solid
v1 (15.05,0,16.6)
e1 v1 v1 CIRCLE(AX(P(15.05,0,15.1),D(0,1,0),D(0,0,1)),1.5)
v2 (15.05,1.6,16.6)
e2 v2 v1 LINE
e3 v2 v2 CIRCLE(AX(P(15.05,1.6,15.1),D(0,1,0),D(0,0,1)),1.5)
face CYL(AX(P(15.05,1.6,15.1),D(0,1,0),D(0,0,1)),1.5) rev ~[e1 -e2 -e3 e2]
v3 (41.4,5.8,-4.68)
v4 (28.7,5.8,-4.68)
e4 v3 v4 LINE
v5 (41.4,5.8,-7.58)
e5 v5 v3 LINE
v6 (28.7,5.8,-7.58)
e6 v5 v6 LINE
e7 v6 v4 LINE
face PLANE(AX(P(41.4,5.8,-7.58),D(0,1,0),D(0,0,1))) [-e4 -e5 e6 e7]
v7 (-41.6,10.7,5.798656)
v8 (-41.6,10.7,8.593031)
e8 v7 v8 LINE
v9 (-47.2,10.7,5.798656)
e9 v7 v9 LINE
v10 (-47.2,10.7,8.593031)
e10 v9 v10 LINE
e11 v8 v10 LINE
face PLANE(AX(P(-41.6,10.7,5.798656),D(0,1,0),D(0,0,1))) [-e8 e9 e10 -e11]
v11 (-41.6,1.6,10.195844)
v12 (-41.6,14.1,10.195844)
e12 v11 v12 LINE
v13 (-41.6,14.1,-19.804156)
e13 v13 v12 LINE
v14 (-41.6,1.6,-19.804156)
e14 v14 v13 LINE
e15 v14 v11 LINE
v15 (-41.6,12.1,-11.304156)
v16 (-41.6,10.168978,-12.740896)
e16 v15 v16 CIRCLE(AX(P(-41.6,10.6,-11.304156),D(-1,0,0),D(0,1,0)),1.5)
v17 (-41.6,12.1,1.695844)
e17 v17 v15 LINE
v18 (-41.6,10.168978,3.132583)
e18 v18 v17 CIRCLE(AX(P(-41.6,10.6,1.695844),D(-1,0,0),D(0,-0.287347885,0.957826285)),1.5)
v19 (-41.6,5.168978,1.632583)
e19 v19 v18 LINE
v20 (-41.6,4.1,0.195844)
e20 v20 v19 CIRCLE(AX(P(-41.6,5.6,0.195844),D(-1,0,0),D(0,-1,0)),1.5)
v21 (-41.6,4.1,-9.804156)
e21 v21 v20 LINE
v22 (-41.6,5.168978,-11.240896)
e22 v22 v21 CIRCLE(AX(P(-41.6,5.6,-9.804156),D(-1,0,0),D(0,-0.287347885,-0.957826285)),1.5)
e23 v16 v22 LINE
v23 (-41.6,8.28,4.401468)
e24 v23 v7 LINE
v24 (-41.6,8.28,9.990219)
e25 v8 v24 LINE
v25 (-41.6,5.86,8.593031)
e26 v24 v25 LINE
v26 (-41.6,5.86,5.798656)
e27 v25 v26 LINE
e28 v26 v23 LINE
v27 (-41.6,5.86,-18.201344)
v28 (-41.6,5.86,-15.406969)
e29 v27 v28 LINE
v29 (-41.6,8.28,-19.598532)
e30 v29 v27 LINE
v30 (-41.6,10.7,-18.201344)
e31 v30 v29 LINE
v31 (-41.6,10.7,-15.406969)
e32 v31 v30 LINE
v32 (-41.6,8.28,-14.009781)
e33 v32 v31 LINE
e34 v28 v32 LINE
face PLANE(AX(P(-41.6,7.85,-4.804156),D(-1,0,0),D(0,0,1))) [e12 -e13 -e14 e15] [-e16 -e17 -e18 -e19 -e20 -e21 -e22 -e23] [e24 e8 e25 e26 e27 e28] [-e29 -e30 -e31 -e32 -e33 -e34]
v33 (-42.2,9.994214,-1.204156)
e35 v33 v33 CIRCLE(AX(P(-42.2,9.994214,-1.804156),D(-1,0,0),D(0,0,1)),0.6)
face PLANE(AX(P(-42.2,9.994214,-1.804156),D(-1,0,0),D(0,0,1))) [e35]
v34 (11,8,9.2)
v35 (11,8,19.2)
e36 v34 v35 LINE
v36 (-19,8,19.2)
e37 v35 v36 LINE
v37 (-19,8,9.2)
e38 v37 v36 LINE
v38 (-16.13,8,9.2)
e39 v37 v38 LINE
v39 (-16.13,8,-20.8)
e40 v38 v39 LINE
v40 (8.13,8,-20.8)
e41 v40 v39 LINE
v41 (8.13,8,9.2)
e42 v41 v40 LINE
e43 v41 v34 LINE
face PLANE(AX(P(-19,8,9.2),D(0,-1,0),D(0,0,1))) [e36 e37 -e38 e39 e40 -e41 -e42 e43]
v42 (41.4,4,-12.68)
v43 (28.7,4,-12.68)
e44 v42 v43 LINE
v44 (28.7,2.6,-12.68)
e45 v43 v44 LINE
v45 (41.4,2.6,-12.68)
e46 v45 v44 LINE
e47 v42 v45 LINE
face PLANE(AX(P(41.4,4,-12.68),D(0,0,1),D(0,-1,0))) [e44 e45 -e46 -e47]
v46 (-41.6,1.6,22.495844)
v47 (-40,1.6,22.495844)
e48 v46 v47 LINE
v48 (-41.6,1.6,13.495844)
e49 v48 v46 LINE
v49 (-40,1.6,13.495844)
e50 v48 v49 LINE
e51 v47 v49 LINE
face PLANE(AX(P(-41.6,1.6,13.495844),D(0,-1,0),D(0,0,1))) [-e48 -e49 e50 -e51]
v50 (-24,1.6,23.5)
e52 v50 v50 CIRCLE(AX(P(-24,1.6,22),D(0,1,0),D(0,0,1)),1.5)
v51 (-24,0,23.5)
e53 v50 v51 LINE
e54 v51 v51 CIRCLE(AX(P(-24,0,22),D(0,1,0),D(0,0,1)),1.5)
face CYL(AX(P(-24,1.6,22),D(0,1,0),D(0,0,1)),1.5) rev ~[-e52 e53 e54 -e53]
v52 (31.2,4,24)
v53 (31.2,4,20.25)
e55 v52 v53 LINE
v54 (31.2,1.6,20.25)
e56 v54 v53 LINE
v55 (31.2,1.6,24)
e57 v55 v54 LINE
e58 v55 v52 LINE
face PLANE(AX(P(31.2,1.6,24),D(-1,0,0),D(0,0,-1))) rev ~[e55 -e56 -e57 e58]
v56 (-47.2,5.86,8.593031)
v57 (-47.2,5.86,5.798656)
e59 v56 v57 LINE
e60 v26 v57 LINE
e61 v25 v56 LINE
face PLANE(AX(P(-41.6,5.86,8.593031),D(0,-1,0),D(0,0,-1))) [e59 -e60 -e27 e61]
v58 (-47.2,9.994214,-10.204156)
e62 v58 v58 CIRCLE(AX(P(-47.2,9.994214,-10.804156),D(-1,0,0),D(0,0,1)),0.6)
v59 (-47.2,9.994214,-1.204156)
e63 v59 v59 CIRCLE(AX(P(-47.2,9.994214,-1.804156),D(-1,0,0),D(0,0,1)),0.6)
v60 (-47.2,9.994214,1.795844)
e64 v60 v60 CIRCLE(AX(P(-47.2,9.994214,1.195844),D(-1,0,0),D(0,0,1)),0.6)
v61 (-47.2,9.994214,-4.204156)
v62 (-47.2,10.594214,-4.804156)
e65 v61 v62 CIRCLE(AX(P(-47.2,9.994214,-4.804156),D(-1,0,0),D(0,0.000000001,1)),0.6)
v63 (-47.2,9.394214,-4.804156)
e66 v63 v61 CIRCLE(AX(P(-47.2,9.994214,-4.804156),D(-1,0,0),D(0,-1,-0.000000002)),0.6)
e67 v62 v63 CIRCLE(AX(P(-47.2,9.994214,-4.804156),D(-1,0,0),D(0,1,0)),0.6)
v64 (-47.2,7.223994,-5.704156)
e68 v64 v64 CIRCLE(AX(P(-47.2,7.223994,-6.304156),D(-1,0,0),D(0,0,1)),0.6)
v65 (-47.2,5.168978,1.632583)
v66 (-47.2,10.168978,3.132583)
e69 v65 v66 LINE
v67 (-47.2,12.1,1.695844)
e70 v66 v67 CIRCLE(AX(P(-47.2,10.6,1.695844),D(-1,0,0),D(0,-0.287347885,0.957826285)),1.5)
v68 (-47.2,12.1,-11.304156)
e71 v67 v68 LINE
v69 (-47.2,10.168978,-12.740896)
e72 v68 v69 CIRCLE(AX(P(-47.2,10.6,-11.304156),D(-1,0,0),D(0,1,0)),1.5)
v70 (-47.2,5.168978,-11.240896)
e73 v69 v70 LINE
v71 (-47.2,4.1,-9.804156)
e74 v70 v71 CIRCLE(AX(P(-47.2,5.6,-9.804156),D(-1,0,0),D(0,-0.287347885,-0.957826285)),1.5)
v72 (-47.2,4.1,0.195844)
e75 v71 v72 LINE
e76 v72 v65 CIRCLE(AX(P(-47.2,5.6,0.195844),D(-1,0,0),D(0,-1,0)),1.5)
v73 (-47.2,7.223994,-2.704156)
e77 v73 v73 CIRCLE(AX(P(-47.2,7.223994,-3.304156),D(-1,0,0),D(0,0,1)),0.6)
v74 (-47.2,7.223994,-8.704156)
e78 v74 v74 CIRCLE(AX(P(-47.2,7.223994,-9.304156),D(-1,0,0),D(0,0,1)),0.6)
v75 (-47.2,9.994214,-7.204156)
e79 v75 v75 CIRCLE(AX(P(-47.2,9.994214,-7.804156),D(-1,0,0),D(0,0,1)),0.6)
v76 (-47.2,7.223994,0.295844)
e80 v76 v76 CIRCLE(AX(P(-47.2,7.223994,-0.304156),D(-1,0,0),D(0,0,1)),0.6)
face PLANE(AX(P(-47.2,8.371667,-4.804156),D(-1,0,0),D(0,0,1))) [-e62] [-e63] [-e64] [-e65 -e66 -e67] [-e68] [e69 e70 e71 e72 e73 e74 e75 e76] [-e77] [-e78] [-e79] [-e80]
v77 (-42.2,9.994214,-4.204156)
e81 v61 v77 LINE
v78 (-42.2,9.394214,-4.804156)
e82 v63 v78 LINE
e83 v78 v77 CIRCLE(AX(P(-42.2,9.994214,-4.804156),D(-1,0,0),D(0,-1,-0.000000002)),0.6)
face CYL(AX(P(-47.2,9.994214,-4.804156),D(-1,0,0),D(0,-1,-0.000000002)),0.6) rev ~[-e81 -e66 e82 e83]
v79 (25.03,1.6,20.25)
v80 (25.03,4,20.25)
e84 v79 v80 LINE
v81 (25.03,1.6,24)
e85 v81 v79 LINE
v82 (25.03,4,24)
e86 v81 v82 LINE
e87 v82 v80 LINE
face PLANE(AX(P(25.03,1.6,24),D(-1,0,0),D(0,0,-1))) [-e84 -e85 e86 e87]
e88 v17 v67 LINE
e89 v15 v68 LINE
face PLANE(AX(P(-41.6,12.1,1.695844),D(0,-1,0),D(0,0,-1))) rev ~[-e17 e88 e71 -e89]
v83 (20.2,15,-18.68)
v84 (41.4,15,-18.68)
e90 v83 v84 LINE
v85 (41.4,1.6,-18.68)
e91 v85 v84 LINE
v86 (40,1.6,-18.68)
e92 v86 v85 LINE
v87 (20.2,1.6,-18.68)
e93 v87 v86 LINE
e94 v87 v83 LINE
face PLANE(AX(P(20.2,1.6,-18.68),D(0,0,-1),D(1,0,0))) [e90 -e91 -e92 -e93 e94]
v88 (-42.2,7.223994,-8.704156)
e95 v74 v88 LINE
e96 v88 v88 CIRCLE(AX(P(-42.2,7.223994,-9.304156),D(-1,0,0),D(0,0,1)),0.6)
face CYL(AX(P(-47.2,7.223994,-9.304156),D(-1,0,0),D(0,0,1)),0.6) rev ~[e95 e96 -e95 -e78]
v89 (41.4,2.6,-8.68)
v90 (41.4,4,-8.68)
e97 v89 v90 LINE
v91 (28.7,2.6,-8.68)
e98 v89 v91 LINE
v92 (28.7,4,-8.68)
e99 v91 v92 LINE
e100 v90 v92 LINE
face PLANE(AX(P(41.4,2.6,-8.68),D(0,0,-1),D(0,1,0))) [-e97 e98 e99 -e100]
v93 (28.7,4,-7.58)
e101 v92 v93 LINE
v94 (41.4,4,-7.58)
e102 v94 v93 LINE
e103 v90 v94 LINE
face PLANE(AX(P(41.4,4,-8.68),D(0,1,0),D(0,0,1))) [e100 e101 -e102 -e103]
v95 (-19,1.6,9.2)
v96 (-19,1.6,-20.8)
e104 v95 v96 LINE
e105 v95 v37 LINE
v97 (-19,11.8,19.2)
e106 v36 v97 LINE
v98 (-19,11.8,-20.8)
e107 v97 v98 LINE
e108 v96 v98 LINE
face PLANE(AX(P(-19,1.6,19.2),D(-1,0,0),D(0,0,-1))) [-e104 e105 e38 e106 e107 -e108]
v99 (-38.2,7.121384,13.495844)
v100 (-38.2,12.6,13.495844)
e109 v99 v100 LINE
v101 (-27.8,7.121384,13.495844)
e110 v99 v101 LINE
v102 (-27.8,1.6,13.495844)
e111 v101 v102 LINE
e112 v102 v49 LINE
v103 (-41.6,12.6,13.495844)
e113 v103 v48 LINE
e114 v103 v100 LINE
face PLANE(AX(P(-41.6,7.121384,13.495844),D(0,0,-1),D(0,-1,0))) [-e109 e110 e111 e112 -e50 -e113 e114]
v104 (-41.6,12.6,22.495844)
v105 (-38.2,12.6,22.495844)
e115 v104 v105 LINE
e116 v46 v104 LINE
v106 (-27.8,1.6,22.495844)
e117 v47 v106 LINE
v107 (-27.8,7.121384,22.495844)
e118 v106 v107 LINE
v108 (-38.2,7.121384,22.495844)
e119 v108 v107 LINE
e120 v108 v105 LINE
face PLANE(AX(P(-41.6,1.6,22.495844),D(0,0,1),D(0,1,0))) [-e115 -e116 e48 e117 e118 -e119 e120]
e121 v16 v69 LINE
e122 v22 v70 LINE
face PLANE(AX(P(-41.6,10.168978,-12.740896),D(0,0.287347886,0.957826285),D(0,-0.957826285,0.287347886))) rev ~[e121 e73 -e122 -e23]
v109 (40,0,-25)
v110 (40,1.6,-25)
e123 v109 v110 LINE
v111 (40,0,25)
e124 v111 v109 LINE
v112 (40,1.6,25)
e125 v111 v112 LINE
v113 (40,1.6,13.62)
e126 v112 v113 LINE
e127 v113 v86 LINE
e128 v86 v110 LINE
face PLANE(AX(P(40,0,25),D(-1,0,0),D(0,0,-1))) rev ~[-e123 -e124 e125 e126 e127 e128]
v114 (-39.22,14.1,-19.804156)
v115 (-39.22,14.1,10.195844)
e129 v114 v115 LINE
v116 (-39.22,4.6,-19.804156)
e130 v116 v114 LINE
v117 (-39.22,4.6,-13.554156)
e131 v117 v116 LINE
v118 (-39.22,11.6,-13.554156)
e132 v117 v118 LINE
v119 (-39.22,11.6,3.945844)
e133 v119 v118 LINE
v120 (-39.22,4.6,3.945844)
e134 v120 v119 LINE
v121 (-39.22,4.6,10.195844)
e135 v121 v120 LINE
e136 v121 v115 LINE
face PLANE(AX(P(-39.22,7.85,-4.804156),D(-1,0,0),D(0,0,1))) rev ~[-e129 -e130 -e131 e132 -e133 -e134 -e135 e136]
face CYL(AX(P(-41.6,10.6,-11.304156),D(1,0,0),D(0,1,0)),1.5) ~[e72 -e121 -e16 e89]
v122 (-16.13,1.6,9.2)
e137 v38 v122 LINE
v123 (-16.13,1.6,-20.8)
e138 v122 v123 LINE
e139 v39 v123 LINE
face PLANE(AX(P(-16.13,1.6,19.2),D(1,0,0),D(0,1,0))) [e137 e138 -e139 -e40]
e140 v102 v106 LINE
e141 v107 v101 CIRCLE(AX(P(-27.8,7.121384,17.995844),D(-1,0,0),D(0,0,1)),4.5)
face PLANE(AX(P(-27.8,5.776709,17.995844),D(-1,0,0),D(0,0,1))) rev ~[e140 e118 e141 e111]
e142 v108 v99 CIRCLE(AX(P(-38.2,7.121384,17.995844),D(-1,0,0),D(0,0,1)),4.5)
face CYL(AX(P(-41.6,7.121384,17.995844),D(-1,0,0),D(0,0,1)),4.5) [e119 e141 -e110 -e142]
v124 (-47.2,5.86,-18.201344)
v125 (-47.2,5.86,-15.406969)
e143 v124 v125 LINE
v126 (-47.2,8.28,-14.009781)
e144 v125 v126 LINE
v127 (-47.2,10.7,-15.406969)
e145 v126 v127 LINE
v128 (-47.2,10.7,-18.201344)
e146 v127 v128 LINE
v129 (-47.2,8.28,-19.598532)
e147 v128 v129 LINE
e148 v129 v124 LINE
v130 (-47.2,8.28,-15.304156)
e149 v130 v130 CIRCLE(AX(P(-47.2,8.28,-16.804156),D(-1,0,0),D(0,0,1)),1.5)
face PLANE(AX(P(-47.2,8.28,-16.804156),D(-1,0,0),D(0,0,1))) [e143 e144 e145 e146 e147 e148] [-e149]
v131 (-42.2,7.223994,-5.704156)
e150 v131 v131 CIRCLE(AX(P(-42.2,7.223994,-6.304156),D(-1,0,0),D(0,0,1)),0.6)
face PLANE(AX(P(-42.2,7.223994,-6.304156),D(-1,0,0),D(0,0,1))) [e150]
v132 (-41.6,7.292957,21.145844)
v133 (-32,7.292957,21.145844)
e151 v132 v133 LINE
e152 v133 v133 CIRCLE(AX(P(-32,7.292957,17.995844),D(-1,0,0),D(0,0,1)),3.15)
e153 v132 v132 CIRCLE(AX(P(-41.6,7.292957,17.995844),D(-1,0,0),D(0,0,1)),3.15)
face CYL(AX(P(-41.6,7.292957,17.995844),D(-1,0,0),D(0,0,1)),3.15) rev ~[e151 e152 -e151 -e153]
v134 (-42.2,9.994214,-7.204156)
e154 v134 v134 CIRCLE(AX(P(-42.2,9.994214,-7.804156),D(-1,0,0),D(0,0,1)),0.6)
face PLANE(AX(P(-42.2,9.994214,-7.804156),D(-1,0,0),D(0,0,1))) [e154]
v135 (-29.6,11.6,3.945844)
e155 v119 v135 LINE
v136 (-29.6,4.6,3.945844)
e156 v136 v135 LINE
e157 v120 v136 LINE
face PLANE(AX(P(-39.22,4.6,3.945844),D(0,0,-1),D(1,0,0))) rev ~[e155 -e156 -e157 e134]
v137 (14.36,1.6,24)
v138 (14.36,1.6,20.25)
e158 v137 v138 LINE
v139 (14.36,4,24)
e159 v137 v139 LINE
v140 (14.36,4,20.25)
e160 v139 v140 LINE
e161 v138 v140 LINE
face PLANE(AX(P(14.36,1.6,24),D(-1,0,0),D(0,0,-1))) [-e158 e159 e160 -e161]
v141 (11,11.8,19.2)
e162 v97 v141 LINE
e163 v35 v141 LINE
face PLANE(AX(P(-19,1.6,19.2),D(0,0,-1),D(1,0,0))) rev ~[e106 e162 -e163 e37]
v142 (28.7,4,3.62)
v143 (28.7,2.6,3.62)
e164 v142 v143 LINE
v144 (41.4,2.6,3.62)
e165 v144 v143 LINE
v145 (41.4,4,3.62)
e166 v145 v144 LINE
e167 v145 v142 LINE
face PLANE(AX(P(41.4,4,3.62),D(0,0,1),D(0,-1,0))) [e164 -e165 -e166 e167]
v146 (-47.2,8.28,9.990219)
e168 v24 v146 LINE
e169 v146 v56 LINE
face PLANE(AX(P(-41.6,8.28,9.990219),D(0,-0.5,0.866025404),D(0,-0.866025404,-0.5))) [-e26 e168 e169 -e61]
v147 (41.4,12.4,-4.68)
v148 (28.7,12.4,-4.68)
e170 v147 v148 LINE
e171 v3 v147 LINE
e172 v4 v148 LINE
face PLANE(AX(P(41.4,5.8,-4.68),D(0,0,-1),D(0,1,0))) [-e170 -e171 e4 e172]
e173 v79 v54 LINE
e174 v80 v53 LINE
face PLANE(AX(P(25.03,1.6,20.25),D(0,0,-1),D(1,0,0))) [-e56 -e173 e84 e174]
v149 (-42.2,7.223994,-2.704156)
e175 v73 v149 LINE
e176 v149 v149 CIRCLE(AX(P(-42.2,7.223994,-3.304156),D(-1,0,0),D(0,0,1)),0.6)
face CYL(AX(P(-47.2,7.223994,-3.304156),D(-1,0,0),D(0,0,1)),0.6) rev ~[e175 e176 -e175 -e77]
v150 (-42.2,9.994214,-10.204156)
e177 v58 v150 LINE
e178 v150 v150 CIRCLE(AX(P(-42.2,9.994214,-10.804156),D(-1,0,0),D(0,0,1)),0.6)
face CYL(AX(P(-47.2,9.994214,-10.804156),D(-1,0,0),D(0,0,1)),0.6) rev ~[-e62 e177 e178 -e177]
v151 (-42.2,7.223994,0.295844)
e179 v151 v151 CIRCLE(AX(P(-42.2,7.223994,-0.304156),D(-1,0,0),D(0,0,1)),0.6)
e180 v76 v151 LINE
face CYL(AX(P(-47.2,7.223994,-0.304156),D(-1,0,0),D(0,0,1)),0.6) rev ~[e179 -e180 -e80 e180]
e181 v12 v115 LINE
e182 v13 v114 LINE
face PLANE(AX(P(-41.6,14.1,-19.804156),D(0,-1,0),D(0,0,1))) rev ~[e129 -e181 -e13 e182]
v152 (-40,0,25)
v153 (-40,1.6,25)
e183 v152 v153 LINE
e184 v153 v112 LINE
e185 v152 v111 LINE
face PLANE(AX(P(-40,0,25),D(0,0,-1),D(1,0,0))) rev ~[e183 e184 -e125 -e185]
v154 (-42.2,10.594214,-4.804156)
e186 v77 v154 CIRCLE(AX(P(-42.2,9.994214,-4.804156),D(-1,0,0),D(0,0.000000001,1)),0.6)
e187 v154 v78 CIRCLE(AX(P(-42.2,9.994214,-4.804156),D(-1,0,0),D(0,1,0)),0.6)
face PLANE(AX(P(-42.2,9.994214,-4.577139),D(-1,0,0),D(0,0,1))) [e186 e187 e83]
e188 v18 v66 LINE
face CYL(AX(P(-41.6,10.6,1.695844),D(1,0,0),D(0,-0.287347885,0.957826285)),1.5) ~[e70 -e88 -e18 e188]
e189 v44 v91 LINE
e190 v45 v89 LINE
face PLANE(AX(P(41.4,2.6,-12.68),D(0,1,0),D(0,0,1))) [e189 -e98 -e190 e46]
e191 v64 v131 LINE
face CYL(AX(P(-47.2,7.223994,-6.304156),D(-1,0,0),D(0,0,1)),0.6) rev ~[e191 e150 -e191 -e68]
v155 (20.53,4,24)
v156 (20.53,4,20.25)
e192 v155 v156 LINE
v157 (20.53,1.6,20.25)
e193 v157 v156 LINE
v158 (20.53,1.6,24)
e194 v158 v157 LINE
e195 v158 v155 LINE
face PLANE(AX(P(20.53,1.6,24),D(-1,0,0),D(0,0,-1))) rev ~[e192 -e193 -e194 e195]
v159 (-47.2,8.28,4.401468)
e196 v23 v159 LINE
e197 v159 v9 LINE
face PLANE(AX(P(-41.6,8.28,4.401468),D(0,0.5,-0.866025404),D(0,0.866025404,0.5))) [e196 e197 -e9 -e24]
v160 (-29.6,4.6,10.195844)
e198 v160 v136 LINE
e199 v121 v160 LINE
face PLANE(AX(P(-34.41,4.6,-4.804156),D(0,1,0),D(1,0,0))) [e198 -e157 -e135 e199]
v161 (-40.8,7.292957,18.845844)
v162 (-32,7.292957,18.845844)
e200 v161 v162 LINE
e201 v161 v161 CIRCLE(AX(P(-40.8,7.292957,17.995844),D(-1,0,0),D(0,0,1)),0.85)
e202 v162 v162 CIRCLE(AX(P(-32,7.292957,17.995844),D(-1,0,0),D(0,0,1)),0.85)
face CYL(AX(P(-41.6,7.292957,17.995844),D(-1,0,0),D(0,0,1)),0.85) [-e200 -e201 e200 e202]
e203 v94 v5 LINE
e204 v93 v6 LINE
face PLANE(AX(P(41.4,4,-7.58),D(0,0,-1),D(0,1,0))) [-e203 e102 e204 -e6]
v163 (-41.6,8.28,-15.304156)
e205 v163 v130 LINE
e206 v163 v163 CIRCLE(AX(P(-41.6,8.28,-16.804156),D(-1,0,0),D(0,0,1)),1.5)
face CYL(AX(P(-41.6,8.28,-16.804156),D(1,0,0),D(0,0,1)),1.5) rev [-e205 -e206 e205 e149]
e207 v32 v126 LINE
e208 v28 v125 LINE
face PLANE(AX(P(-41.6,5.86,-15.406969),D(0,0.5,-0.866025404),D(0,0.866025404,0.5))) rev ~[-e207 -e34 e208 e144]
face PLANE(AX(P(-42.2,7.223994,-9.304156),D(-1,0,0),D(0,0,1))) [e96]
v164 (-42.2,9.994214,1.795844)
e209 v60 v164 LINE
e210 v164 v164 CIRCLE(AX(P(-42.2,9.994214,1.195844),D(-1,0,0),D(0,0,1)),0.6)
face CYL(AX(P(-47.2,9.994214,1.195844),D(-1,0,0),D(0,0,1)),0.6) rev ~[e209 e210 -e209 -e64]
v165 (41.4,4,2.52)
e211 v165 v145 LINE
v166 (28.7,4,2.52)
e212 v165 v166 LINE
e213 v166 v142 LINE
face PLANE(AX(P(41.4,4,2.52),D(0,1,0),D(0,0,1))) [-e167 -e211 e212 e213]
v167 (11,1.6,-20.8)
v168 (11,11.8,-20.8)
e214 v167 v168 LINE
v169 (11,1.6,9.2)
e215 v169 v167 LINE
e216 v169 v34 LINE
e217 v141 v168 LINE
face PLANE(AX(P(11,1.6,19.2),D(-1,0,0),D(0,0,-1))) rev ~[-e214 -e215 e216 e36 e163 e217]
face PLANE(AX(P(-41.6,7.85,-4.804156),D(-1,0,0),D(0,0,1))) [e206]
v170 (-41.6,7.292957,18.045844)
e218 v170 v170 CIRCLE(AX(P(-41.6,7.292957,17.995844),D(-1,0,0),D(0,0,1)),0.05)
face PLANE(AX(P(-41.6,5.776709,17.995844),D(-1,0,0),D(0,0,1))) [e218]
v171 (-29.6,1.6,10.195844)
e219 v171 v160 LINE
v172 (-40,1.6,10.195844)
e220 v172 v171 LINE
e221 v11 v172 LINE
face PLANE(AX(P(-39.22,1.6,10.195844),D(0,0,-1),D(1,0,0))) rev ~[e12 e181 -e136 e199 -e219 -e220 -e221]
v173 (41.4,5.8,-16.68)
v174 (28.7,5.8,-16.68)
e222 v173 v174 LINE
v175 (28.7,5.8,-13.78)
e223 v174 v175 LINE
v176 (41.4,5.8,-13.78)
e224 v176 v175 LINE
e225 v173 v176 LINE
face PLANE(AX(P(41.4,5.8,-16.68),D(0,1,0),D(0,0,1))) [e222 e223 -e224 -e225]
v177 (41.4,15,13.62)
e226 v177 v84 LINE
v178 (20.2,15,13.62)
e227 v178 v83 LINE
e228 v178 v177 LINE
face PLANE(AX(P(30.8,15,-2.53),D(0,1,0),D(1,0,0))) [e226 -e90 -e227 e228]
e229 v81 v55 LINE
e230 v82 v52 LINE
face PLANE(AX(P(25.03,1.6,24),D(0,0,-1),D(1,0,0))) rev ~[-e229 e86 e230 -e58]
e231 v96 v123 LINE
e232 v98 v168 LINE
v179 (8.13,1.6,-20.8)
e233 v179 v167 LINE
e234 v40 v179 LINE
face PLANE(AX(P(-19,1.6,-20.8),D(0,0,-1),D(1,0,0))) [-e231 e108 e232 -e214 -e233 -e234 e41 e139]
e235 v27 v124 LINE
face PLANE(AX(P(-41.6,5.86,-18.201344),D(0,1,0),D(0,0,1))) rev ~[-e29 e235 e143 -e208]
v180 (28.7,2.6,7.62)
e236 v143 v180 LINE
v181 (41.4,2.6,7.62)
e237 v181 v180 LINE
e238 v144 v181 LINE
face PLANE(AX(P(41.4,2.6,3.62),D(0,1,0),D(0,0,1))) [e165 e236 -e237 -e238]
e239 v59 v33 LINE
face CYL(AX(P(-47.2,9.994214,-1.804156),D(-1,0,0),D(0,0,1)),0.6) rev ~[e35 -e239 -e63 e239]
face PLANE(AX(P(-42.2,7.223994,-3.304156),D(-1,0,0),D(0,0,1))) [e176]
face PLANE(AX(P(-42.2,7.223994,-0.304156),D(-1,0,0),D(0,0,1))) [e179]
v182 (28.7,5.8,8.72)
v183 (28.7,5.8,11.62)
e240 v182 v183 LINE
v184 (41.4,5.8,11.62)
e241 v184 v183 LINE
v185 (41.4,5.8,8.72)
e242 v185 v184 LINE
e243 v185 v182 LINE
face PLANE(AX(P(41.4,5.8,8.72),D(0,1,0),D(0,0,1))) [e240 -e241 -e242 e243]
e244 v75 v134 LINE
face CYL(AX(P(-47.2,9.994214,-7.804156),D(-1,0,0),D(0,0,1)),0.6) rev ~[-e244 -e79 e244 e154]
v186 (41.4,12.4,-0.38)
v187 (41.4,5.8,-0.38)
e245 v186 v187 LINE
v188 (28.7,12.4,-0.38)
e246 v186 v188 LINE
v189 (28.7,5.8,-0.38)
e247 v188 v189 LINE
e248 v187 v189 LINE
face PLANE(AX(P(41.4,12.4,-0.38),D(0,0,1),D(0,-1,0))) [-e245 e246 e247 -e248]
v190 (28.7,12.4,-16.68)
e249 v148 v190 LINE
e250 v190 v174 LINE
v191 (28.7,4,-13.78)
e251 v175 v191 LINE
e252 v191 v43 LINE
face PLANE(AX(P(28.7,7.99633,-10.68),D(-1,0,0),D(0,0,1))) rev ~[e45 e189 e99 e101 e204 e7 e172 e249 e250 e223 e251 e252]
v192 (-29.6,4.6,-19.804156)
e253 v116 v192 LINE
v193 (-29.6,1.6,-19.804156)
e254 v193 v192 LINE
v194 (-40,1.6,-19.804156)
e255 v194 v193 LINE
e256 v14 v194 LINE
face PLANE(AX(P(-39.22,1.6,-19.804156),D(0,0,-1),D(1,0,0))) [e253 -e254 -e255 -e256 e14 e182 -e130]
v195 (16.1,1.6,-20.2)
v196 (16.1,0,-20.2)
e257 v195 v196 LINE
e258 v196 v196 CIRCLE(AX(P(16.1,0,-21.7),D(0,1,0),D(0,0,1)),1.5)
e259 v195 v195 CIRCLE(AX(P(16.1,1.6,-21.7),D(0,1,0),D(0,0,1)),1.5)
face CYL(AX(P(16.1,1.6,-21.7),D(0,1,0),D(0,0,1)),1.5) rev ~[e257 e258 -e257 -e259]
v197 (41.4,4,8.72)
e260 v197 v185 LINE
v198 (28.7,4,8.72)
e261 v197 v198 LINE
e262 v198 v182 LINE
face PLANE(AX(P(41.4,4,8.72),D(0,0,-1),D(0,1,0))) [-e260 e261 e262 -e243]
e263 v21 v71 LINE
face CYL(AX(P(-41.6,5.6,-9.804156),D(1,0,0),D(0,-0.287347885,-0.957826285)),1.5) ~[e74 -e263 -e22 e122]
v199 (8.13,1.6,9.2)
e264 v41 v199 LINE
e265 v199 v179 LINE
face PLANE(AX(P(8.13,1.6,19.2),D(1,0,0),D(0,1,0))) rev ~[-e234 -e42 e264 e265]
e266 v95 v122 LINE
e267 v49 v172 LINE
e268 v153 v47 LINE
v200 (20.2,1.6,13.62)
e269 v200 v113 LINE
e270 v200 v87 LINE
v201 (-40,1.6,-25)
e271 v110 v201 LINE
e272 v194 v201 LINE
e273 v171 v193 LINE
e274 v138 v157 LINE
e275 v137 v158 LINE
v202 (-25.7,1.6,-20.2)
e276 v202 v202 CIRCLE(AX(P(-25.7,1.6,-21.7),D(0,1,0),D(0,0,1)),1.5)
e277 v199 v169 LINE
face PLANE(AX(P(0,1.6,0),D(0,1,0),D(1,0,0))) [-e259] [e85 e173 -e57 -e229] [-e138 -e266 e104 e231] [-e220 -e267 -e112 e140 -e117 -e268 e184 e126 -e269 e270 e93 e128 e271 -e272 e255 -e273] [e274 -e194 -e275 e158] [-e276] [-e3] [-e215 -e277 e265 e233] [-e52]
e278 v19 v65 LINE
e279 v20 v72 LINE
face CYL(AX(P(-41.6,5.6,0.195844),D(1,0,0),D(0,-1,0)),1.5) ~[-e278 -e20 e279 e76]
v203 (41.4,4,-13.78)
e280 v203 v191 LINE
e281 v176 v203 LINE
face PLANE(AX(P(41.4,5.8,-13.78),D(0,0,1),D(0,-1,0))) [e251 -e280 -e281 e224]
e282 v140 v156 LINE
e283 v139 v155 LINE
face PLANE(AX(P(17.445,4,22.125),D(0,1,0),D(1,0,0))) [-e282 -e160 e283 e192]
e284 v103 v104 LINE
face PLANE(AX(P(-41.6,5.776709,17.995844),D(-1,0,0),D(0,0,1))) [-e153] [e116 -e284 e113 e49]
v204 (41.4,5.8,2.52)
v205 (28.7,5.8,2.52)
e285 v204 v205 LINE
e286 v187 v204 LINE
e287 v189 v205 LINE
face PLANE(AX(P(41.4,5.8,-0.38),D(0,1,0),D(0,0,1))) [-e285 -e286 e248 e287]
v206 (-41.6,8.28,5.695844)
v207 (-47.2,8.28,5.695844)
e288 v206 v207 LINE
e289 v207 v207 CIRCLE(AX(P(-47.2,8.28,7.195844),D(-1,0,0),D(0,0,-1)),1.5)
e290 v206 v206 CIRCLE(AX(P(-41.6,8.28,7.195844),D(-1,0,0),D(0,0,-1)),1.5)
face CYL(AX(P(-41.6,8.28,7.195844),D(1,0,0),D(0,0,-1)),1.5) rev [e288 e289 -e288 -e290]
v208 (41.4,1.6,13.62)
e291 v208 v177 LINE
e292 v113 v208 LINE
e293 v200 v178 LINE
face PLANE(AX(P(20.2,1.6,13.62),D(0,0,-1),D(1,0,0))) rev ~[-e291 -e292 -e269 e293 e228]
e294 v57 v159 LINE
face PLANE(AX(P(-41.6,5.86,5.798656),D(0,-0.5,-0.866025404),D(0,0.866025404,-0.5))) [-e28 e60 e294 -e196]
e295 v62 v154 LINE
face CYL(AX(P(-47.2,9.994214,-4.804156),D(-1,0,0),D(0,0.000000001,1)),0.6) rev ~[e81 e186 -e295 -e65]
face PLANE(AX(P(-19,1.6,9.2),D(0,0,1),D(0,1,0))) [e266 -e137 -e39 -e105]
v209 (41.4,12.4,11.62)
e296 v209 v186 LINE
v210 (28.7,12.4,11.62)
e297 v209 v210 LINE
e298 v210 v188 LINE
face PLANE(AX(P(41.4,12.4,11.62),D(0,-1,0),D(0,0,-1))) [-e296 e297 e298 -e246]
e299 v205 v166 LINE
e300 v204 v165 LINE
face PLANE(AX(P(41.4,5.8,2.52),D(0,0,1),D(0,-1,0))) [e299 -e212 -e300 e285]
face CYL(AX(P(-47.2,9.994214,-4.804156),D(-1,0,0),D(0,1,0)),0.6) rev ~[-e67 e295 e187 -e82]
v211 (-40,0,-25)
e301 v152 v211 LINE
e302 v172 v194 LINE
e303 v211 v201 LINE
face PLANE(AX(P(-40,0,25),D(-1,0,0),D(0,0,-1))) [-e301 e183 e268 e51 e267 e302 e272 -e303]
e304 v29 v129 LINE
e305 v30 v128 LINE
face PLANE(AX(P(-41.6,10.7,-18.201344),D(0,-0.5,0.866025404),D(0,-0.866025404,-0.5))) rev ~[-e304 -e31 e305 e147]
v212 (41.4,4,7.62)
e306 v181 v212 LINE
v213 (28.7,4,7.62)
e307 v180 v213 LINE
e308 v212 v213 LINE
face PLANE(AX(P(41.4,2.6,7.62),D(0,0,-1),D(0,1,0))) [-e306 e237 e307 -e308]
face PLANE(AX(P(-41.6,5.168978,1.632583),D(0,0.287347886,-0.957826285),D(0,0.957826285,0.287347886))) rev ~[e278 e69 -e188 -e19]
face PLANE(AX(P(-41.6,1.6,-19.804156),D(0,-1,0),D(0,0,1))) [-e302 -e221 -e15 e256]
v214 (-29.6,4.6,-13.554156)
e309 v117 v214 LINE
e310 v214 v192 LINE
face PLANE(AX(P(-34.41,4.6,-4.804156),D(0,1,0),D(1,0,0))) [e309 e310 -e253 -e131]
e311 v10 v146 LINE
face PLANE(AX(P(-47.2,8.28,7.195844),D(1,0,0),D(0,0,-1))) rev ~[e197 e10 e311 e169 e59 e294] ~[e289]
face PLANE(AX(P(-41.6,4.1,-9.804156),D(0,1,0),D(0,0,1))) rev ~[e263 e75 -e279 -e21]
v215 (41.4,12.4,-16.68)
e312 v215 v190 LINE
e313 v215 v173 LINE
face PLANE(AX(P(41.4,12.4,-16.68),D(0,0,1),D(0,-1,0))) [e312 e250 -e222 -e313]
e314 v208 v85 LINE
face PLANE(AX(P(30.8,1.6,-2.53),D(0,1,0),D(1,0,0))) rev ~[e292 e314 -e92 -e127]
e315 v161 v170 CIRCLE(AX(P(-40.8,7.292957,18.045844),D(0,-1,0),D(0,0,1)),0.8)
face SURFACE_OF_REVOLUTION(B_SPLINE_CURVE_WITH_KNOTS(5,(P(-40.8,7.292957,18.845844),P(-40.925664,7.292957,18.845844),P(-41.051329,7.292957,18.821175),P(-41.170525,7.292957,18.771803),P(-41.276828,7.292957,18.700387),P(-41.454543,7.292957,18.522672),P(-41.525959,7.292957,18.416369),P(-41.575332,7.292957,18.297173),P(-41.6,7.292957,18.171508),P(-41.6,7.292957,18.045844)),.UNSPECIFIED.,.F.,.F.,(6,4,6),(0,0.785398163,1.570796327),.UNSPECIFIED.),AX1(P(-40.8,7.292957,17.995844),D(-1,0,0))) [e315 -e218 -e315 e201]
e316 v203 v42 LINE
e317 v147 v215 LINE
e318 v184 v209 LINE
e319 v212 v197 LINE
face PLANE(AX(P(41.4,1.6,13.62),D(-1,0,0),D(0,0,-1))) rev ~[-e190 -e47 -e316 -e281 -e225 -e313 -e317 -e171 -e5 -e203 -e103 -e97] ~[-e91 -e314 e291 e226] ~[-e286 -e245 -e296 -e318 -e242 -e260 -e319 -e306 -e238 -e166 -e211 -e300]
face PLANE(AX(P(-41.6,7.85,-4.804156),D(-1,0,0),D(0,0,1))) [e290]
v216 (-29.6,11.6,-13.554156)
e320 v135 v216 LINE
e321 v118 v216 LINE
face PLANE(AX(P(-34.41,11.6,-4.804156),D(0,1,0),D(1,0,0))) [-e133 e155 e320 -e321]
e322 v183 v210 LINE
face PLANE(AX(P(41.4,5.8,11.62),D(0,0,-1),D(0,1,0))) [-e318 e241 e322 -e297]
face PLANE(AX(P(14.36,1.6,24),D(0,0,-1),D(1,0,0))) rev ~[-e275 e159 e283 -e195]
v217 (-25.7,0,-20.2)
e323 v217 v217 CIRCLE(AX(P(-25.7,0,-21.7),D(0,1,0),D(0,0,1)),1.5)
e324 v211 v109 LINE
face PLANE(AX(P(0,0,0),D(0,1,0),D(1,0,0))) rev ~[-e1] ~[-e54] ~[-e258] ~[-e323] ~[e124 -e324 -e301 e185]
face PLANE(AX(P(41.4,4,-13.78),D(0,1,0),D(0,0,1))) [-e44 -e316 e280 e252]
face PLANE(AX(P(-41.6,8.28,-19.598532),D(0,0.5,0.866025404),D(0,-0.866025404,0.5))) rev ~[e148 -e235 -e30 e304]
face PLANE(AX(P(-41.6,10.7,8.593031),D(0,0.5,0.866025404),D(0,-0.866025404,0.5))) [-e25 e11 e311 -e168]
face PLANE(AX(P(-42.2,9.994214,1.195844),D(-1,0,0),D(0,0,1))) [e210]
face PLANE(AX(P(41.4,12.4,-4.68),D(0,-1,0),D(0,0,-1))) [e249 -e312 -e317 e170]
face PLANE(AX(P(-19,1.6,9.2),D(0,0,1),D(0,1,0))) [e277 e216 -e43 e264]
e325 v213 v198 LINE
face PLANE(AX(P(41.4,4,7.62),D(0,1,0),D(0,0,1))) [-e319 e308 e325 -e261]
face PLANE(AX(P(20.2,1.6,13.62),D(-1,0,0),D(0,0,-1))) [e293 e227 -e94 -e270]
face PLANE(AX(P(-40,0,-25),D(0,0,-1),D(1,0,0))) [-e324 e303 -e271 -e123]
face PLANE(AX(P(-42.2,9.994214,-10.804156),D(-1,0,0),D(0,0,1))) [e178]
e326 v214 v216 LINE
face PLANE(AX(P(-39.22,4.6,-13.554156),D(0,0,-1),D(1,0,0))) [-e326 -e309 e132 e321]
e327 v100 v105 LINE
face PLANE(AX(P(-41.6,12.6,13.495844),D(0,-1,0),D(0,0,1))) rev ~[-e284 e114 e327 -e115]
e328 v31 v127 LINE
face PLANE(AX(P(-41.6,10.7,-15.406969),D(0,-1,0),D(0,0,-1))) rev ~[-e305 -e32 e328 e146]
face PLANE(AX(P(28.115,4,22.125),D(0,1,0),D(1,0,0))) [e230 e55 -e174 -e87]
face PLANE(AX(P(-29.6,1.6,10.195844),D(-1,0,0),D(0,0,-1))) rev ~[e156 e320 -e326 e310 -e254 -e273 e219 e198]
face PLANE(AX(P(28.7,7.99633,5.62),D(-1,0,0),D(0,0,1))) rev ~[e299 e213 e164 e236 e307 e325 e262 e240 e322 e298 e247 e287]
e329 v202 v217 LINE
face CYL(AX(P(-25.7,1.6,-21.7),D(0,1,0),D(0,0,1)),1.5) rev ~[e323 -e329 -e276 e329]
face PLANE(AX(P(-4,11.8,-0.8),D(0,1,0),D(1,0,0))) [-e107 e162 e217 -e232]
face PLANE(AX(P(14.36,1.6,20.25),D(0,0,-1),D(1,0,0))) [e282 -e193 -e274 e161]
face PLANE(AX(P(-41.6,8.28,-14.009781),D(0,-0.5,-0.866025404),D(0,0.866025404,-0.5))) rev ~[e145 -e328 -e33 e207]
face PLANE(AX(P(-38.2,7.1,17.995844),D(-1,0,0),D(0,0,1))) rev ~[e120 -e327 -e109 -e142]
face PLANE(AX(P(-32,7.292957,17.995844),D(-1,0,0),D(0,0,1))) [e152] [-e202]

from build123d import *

# Parameters (mm, degrees)
SKETCH_1_W          = 80
SKETCH_1_H          = 50
EXTRUDE_1_DEPTH     = 1.6
SKETCH_2_W          = 21.2
SKETCH_2_H          = 32.3
EXTRUDE_2_DEPTH     = 13.4
CUT_EXTRUDE_1_DEPTH = 12.7
SKETCH_4_W          = 30
SKETCH_4_H          = 40
EXTRUDE_3_DEPTH     = 10.2
SKETCH_5_W          = 24.26
SKETCH_5_H          = 6.4
CUT_EXTRUDE_2_DEPTH = 63.390704436
CUT_EXTRUDE_3_REACH = 69.068
SKETCH_6_W          = 10
SKETCH_6_H          = 6.4
SKETCH_7_W          = 6.17
SKETCH_7_H          = 3.75
EXTRUDE_4_DEPTH     = 2.4
SKETCH_8_R          = 1.5
CUT_EXTRUDE_4_DEPTH = 1.6
EXTRUDE_5_DEPTH     = 13.8
SKETCH_10_W         = 9
SKETCH_10_H         = 11
EXTRUDE_6_DEPTH     = 3.4
SKETCH_11_R         = 3.15
SKETCH_11_R_2       = 0.85
CUT_EXTRUDE_5_DEPTH = 9.6
FILLET_1_R          = 0.8
SKETCH_12_W         = 30
SKETCH_12_H         = 12.5
EXTRUDE_7_DEPTH     = 2.38
SKETCH_13_W         = 9.62
SKETCH_13_H         = 30
EXTRUDE_8_DEPTH     = 3
SKETCH_14_W         = 9.62
SKETCH_14_H         = 17.5
EXTRUDE_9_DEPTH     = 7
SKETCH_15_R         = 1.5
EXTRUDE_10_DEPTH    = 5.6
SKETCH_16_R         = 0.6
CUT_EXTRUDE_6_DEPTH = 5


with BuildPart() as part:
    # 草图1 → 凸台-拉伸1 (new body)
    with BuildSketch(Plane(origin=(0, 0, 0), x_dir=(1, 0, 0), z_dir=(0, 1, 0))):
        Rectangle(SKETCH_1_W, SKETCH_1_H)
    extrude(amount=EXTRUDE_1_DEPTH)

    # 草图2 → 凸台-拉伸2 (add)
    with BuildSketch(Plane(origin=(0, 1.6, 0), x_dir=(1, 0, 0), z_dir=(0, 1, 0))):
        with Locations((30.8, 2.53)):
            Rectangle(SKETCH_2_W, SKETCH_2_H)
    extrude(amount=EXTRUDE_2_DEPTH)

    # 草图3 → 切除-拉伸1 (cut)
    with BuildSketch(Plane(origin=(41.4, 0, 0), x_dir=(0, 0, -1), z_dir=(1, 0, 0))):
        Polygon((0.38, 12.4), (0.38, 5.8), (-2.52, 5.8), (-2.52, 4), (-3.62, 4), (-3.62, 2.6), (-7.62, 2.6), (-7.62, 4), (-8.72, 4), (-8.72, 5.8), (-11.62, 5.8), (-11.62, 12.4), align=None)
        Polygon((12.68, 2.6), (8.68, 2.6), (8.68, 4), (7.58, 4), (7.58, 5.8), (4.68, 5.8), (4.68, 12.4), (16.68, 12.4), (16.68, 5.8), (13.78, 5.8), (13.78, 4), (12.68, 4), align=None)
    extrude(amount=-CUT_EXTRUDE_1_DEPTH, mode=Mode.SUBTRACT)

    # 草图4 → 凸台-拉伸3 (add)
    with BuildSketch(Plane(origin=(0, 1.6, 0), x_dir=(1, 0, 0), z_dir=(0, 1, 0))):
        with Locations((-4, 0.8)):
            Rectangle(SKETCH_4_W, SKETCH_4_H)
    extrude(amount=EXTRUDE_3_DEPTH)

    # 草图5 → 切除-拉伸2 (cut, through all)
    with BuildSketch(Plane.XY.offset(19.2)):
        with Locations((-4, 4.8)):
            Rectangle(SKETCH_5_W, SKETCH_5_H)
    extrude(amount=-CUT_EXTRUDE_2_DEPTH, mode=Mode.SUBTRACT)

    # 切除-拉伸3: up to this face of the body (flat: up to its plane)
    cut_extrude_3_end = Plane(part.part.faces().sort_by_distance((11, 6.7, -0.8))[0])
    # 草图6 → 切除-拉伸3 (cut, up to the picked face)
    with BuildSketch(Plane.ZY.offset(19), mode=Mode.PRIVATE) as cut_extrude_3_sk1:
        with Locations((14.2, 4.8)):
            Rectangle(SKETCH_6_W, SKETCH_6_H)
    cut_extrude_3_tool1 = split(extrude(cut_extrude_3_sk1.sketch, amount=-CUT_EXTRUDE_3_REACH, mode=Mode.PRIVATE), bisect_by=cut_extrude_3_end, keep=Keep.BOTH, mode=Mode.PRIVATE)
    add(cut_extrude_3_tool1.solids().sort_by(Axis((-19, 4.8, 14.2), (1, 0, 0)))[0], mode=Mode.SUBTRACT)

    # 草图7 → 凸台-拉伸4 (add)
    with BuildSketch(Plane(origin=(0, 1.6, 0), x_dir=(1, 0, 0), z_dir=(0, 1, 0))):
        with Locations((17.445, -22.125)):
            Rectangle(SKETCH_7_W, SKETCH_7_H)
        with Locations((28.115, -22.125)):
            Rectangle(SKETCH_7_W, SKETCH_7_H)
    extrude(amount=EXTRUDE_4_DEPTH)

    # 草图8 → 切除-拉伸4 (cut)
    with BuildSketch(Plane(origin=(0, 1.6, 0), x_dir=(1, 0, 0), z_dir=(0, 1, 0))):
        with Locations(Location((16.1, 21.7, 0), (0, 0, 270))):
            Circle(SKETCH_8_R)
        with Locations(Location((15.05, -15.1, 0), (0, 0, 270))):
            Circle(SKETCH_8_R)
        with Locations(Location((-24, -22, 0), (0, 0, 270))):
            Circle(SKETCH_8_R)
        with Locations(Location((-25.7, 21.7, 0), (0, 0, 270))):
            Circle(SKETCH_8_R)
    extrude(amount=-CUT_EXTRUDE_4_DEPTH, mode=Mode.SUBTRACT)

    # 草图9 → 凸台-拉伸5 (add)
    with BuildSketch(Plane.ZY.offset(41.6)):
        with BuildLine():
            Line((13.495843799, 1.6), (22.495843799, 1.6))
            Line((22.495843799, 1.6), (22.495843799, 7.121383857))
            ThreePointArc((22.495843799, 7.121383857), (17.995843799, 11.621383857), (13.495843799, 7.121383857))
            Line((13.495843799, 7.121383857), (13.495843799, 1.6))
        make_face()
    extrude(amount=-EXTRUDE_5_DEPTH)

    # 草图10 → 凸台-拉伸6 (add)
    with BuildSketch(Plane.ZY.offset(41.6)):
        with Locations((17.995843799, 7.1)):
            Rectangle(SKETCH_10_W, SKETCH_10_H)
    extrude(amount=-EXTRUDE_6_DEPTH)

    # 草图11 → 切除-拉伸5 (cut)
    with BuildSketch(Plane.ZY.offset(41.6)):
        with Locations((17.995843799, 7.292957317)):
            Circle(SKETCH_11_R)
        with Locations((17.995843799, 7.292957317)):
            Circle(SKETCH_11_R_2, mode=Mode.SUBTRACT)
    extrude(amount=-CUT_EXTRUDE_5_DEPTH, mode=Mode.SUBTRACT)

    # 圆角1
    fillet_1_edges = [part.edges().sort_by_distance(p)[0] for p in [
        (-41.6, 7.292957317, 17.145843799),
    ]]
    fillet(fillet_1_edges, radius=FILLET_1_R)



with BuildPart() as body_2:
    # 草图12 → 凸台-拉伸7 (new body)
    with BuildSketch(Plane.ZY.offset(41.6)):
        with Locations((-4.804156201, 7.85)):
            Rectangle(SKETCH_12_W, SKETCH_12_H)
    extrude(amount=-EXTRUDE_7_DEPTH)


with BuildPart() as part_1:
    add(part.part)

    add(body_2.part)  # 凸台-拉伸8 merges body 2
    # 草图13 → 凸台-拉伸8 (add)
    with BuildSketch(Plane(origin=(0, 1.6, 0), x_dir=(1, 0, 0), z_dir=(0, 1, 0))):
        with Locations((-34.41, 4.804156201)):
            Rectangle(SKETCH_13_W, SKETCH_13_H)
    extrude(amount=EXTRUDE_8_DEPTH)

    # 草图14 → 凸台-拉伸9 (add)
    with BuildSketch(Plane(origin=(0, 4.6, 0), x_dir=(1, 0, 0), z_dir=(0, 1, 0))):
        with Locations((-34.41, 4.804156201)):
            Rectangle(SKETCH_14_W, SKETCH_14_H)
    extrude(amount=EXTRUDE_9_DEPTH)

    # 草图15 → 凸台-拉伸10 (add)
    # profile 1 of 3: a face of its own
    with BuildSketch(Plane.ZY.offset(41.6)):
        Polygon((-14.009780898, 8.28), (-15.406968549, 10.7), (-18.201343852, 10.7), (-19.598531503, 8.28), (-18.201343852, 5.86), (-15.406968549, 5.86), align=None)
        with Locations((-16.804156201, 8.28)):
            Circle(SKETCH_15_R, mode=Mode.SUBTRACT)
    # profile 2 of 3: a face of its own
    with BuildSketch(Plane.ZY.offset(41.6)):
        Polygon((5.798656148, 5.86), (4.401468497, 8.28), (5.798656148, 10.7), (8.593031451, 10.7), (9.990219102, 8.28), (8.593031451, 5.86), align=None)
        with Locations(Location((7.195843799, 8.28, 0), (0, 0, 180))):
            Circle(SKETCH_15_R, mode=Mode.SUBTRACT)
    # profile 3 of 3: a face of its own
    with BuildSketch(Plane.ZY.offset(41.6)):
        with BuildLine():
            Line((1.695843799, 12.1), (-11.304156201, 12.1))
            ThreePointArc((-11.304156201, 12.1), (-12.507595593, 11.495395794), (-12.740895628, 10.168978172))
            Line((-12.740895628, 10.168978172), (-11.240895628, 5.168978172))
            ThreePointArc((-11.240895628, 5.168978172), (-10.699551995, 4.396560608), (-9.804156201, 4.1))
            Line((-9.804156201, 4.1), (0.195843799, 4.1))
            ThreePointArc((0.195843799, 4.1), (1.091239594, 4.396560608), (1.632583227, 5.168978172))
            Line((1.632583227, 5.168978172), (3.132583227, 10.168978172))
            ThreePointArc((3.132583227, 10.168978172), (2.899283192, 11.495395794), (1.695843799, 12.1))
        make_face()
    extrude(amount=EXTRUDE_10_DEPTH)

    # 草图16 → 切除-拉伸6 (cut)
    with BuildSketch(Plane.ZY.offset(47.2)):
        with Locations((-10.804156201, 9.994214202)):
            Circle(SKETCH_16_R)
        with Locations((-7.804156201, 9.994214202)):
            Circle(SKETCH_16_R)
        with BuildLine():
            ThreePointArc((-4.204156201, 9.994214202), (-4.379892132, 10.41847827), (-4.804156201, 10.594214202))
            Line((-4.804156201, 10.594214202), (-4.804156201, 9.394214202))
            ThreePointArc((-4.804156201, 9.394214202), (-4.379892132, 9.569950133), (-4.204156201, 9.994214202))
        make_face()
        with BuildLine():
            Line((-4.804156201, 9.394214202), (-4.804156201, 10.594214202))
            ThreePointArc((-4.804156201, 10.594214202), (-5.404156201, 9.994214202), (-4.804156201, 9.394214202))
        make_face()
        with Locations((-1.804156201, 9.994214202)):
            Circle(SKETCH_16_R)
        with Locations((1.195843799, 9.994214202)):
            Circle(SKETCH_16_R)
        with Locations((-0.304156201, 7.223993606)):
            Circle(SKETCH_16_R)
        with Locations((-3.304156201, 7.223993606)):
            Circle(SKETCH_16_R)
        with Locations((-6.304156201, 7.223993606)):
            Circle(SKETCH_16_R)
        with Locations((-9.304156201, 7.223993606)):
            Circle(SKETCH_16_R)
    extrude(amount=-CUT_EXTRUDE_6_DEPTH, mode=Mode.SUBTRACT)


solid = part_1.part
